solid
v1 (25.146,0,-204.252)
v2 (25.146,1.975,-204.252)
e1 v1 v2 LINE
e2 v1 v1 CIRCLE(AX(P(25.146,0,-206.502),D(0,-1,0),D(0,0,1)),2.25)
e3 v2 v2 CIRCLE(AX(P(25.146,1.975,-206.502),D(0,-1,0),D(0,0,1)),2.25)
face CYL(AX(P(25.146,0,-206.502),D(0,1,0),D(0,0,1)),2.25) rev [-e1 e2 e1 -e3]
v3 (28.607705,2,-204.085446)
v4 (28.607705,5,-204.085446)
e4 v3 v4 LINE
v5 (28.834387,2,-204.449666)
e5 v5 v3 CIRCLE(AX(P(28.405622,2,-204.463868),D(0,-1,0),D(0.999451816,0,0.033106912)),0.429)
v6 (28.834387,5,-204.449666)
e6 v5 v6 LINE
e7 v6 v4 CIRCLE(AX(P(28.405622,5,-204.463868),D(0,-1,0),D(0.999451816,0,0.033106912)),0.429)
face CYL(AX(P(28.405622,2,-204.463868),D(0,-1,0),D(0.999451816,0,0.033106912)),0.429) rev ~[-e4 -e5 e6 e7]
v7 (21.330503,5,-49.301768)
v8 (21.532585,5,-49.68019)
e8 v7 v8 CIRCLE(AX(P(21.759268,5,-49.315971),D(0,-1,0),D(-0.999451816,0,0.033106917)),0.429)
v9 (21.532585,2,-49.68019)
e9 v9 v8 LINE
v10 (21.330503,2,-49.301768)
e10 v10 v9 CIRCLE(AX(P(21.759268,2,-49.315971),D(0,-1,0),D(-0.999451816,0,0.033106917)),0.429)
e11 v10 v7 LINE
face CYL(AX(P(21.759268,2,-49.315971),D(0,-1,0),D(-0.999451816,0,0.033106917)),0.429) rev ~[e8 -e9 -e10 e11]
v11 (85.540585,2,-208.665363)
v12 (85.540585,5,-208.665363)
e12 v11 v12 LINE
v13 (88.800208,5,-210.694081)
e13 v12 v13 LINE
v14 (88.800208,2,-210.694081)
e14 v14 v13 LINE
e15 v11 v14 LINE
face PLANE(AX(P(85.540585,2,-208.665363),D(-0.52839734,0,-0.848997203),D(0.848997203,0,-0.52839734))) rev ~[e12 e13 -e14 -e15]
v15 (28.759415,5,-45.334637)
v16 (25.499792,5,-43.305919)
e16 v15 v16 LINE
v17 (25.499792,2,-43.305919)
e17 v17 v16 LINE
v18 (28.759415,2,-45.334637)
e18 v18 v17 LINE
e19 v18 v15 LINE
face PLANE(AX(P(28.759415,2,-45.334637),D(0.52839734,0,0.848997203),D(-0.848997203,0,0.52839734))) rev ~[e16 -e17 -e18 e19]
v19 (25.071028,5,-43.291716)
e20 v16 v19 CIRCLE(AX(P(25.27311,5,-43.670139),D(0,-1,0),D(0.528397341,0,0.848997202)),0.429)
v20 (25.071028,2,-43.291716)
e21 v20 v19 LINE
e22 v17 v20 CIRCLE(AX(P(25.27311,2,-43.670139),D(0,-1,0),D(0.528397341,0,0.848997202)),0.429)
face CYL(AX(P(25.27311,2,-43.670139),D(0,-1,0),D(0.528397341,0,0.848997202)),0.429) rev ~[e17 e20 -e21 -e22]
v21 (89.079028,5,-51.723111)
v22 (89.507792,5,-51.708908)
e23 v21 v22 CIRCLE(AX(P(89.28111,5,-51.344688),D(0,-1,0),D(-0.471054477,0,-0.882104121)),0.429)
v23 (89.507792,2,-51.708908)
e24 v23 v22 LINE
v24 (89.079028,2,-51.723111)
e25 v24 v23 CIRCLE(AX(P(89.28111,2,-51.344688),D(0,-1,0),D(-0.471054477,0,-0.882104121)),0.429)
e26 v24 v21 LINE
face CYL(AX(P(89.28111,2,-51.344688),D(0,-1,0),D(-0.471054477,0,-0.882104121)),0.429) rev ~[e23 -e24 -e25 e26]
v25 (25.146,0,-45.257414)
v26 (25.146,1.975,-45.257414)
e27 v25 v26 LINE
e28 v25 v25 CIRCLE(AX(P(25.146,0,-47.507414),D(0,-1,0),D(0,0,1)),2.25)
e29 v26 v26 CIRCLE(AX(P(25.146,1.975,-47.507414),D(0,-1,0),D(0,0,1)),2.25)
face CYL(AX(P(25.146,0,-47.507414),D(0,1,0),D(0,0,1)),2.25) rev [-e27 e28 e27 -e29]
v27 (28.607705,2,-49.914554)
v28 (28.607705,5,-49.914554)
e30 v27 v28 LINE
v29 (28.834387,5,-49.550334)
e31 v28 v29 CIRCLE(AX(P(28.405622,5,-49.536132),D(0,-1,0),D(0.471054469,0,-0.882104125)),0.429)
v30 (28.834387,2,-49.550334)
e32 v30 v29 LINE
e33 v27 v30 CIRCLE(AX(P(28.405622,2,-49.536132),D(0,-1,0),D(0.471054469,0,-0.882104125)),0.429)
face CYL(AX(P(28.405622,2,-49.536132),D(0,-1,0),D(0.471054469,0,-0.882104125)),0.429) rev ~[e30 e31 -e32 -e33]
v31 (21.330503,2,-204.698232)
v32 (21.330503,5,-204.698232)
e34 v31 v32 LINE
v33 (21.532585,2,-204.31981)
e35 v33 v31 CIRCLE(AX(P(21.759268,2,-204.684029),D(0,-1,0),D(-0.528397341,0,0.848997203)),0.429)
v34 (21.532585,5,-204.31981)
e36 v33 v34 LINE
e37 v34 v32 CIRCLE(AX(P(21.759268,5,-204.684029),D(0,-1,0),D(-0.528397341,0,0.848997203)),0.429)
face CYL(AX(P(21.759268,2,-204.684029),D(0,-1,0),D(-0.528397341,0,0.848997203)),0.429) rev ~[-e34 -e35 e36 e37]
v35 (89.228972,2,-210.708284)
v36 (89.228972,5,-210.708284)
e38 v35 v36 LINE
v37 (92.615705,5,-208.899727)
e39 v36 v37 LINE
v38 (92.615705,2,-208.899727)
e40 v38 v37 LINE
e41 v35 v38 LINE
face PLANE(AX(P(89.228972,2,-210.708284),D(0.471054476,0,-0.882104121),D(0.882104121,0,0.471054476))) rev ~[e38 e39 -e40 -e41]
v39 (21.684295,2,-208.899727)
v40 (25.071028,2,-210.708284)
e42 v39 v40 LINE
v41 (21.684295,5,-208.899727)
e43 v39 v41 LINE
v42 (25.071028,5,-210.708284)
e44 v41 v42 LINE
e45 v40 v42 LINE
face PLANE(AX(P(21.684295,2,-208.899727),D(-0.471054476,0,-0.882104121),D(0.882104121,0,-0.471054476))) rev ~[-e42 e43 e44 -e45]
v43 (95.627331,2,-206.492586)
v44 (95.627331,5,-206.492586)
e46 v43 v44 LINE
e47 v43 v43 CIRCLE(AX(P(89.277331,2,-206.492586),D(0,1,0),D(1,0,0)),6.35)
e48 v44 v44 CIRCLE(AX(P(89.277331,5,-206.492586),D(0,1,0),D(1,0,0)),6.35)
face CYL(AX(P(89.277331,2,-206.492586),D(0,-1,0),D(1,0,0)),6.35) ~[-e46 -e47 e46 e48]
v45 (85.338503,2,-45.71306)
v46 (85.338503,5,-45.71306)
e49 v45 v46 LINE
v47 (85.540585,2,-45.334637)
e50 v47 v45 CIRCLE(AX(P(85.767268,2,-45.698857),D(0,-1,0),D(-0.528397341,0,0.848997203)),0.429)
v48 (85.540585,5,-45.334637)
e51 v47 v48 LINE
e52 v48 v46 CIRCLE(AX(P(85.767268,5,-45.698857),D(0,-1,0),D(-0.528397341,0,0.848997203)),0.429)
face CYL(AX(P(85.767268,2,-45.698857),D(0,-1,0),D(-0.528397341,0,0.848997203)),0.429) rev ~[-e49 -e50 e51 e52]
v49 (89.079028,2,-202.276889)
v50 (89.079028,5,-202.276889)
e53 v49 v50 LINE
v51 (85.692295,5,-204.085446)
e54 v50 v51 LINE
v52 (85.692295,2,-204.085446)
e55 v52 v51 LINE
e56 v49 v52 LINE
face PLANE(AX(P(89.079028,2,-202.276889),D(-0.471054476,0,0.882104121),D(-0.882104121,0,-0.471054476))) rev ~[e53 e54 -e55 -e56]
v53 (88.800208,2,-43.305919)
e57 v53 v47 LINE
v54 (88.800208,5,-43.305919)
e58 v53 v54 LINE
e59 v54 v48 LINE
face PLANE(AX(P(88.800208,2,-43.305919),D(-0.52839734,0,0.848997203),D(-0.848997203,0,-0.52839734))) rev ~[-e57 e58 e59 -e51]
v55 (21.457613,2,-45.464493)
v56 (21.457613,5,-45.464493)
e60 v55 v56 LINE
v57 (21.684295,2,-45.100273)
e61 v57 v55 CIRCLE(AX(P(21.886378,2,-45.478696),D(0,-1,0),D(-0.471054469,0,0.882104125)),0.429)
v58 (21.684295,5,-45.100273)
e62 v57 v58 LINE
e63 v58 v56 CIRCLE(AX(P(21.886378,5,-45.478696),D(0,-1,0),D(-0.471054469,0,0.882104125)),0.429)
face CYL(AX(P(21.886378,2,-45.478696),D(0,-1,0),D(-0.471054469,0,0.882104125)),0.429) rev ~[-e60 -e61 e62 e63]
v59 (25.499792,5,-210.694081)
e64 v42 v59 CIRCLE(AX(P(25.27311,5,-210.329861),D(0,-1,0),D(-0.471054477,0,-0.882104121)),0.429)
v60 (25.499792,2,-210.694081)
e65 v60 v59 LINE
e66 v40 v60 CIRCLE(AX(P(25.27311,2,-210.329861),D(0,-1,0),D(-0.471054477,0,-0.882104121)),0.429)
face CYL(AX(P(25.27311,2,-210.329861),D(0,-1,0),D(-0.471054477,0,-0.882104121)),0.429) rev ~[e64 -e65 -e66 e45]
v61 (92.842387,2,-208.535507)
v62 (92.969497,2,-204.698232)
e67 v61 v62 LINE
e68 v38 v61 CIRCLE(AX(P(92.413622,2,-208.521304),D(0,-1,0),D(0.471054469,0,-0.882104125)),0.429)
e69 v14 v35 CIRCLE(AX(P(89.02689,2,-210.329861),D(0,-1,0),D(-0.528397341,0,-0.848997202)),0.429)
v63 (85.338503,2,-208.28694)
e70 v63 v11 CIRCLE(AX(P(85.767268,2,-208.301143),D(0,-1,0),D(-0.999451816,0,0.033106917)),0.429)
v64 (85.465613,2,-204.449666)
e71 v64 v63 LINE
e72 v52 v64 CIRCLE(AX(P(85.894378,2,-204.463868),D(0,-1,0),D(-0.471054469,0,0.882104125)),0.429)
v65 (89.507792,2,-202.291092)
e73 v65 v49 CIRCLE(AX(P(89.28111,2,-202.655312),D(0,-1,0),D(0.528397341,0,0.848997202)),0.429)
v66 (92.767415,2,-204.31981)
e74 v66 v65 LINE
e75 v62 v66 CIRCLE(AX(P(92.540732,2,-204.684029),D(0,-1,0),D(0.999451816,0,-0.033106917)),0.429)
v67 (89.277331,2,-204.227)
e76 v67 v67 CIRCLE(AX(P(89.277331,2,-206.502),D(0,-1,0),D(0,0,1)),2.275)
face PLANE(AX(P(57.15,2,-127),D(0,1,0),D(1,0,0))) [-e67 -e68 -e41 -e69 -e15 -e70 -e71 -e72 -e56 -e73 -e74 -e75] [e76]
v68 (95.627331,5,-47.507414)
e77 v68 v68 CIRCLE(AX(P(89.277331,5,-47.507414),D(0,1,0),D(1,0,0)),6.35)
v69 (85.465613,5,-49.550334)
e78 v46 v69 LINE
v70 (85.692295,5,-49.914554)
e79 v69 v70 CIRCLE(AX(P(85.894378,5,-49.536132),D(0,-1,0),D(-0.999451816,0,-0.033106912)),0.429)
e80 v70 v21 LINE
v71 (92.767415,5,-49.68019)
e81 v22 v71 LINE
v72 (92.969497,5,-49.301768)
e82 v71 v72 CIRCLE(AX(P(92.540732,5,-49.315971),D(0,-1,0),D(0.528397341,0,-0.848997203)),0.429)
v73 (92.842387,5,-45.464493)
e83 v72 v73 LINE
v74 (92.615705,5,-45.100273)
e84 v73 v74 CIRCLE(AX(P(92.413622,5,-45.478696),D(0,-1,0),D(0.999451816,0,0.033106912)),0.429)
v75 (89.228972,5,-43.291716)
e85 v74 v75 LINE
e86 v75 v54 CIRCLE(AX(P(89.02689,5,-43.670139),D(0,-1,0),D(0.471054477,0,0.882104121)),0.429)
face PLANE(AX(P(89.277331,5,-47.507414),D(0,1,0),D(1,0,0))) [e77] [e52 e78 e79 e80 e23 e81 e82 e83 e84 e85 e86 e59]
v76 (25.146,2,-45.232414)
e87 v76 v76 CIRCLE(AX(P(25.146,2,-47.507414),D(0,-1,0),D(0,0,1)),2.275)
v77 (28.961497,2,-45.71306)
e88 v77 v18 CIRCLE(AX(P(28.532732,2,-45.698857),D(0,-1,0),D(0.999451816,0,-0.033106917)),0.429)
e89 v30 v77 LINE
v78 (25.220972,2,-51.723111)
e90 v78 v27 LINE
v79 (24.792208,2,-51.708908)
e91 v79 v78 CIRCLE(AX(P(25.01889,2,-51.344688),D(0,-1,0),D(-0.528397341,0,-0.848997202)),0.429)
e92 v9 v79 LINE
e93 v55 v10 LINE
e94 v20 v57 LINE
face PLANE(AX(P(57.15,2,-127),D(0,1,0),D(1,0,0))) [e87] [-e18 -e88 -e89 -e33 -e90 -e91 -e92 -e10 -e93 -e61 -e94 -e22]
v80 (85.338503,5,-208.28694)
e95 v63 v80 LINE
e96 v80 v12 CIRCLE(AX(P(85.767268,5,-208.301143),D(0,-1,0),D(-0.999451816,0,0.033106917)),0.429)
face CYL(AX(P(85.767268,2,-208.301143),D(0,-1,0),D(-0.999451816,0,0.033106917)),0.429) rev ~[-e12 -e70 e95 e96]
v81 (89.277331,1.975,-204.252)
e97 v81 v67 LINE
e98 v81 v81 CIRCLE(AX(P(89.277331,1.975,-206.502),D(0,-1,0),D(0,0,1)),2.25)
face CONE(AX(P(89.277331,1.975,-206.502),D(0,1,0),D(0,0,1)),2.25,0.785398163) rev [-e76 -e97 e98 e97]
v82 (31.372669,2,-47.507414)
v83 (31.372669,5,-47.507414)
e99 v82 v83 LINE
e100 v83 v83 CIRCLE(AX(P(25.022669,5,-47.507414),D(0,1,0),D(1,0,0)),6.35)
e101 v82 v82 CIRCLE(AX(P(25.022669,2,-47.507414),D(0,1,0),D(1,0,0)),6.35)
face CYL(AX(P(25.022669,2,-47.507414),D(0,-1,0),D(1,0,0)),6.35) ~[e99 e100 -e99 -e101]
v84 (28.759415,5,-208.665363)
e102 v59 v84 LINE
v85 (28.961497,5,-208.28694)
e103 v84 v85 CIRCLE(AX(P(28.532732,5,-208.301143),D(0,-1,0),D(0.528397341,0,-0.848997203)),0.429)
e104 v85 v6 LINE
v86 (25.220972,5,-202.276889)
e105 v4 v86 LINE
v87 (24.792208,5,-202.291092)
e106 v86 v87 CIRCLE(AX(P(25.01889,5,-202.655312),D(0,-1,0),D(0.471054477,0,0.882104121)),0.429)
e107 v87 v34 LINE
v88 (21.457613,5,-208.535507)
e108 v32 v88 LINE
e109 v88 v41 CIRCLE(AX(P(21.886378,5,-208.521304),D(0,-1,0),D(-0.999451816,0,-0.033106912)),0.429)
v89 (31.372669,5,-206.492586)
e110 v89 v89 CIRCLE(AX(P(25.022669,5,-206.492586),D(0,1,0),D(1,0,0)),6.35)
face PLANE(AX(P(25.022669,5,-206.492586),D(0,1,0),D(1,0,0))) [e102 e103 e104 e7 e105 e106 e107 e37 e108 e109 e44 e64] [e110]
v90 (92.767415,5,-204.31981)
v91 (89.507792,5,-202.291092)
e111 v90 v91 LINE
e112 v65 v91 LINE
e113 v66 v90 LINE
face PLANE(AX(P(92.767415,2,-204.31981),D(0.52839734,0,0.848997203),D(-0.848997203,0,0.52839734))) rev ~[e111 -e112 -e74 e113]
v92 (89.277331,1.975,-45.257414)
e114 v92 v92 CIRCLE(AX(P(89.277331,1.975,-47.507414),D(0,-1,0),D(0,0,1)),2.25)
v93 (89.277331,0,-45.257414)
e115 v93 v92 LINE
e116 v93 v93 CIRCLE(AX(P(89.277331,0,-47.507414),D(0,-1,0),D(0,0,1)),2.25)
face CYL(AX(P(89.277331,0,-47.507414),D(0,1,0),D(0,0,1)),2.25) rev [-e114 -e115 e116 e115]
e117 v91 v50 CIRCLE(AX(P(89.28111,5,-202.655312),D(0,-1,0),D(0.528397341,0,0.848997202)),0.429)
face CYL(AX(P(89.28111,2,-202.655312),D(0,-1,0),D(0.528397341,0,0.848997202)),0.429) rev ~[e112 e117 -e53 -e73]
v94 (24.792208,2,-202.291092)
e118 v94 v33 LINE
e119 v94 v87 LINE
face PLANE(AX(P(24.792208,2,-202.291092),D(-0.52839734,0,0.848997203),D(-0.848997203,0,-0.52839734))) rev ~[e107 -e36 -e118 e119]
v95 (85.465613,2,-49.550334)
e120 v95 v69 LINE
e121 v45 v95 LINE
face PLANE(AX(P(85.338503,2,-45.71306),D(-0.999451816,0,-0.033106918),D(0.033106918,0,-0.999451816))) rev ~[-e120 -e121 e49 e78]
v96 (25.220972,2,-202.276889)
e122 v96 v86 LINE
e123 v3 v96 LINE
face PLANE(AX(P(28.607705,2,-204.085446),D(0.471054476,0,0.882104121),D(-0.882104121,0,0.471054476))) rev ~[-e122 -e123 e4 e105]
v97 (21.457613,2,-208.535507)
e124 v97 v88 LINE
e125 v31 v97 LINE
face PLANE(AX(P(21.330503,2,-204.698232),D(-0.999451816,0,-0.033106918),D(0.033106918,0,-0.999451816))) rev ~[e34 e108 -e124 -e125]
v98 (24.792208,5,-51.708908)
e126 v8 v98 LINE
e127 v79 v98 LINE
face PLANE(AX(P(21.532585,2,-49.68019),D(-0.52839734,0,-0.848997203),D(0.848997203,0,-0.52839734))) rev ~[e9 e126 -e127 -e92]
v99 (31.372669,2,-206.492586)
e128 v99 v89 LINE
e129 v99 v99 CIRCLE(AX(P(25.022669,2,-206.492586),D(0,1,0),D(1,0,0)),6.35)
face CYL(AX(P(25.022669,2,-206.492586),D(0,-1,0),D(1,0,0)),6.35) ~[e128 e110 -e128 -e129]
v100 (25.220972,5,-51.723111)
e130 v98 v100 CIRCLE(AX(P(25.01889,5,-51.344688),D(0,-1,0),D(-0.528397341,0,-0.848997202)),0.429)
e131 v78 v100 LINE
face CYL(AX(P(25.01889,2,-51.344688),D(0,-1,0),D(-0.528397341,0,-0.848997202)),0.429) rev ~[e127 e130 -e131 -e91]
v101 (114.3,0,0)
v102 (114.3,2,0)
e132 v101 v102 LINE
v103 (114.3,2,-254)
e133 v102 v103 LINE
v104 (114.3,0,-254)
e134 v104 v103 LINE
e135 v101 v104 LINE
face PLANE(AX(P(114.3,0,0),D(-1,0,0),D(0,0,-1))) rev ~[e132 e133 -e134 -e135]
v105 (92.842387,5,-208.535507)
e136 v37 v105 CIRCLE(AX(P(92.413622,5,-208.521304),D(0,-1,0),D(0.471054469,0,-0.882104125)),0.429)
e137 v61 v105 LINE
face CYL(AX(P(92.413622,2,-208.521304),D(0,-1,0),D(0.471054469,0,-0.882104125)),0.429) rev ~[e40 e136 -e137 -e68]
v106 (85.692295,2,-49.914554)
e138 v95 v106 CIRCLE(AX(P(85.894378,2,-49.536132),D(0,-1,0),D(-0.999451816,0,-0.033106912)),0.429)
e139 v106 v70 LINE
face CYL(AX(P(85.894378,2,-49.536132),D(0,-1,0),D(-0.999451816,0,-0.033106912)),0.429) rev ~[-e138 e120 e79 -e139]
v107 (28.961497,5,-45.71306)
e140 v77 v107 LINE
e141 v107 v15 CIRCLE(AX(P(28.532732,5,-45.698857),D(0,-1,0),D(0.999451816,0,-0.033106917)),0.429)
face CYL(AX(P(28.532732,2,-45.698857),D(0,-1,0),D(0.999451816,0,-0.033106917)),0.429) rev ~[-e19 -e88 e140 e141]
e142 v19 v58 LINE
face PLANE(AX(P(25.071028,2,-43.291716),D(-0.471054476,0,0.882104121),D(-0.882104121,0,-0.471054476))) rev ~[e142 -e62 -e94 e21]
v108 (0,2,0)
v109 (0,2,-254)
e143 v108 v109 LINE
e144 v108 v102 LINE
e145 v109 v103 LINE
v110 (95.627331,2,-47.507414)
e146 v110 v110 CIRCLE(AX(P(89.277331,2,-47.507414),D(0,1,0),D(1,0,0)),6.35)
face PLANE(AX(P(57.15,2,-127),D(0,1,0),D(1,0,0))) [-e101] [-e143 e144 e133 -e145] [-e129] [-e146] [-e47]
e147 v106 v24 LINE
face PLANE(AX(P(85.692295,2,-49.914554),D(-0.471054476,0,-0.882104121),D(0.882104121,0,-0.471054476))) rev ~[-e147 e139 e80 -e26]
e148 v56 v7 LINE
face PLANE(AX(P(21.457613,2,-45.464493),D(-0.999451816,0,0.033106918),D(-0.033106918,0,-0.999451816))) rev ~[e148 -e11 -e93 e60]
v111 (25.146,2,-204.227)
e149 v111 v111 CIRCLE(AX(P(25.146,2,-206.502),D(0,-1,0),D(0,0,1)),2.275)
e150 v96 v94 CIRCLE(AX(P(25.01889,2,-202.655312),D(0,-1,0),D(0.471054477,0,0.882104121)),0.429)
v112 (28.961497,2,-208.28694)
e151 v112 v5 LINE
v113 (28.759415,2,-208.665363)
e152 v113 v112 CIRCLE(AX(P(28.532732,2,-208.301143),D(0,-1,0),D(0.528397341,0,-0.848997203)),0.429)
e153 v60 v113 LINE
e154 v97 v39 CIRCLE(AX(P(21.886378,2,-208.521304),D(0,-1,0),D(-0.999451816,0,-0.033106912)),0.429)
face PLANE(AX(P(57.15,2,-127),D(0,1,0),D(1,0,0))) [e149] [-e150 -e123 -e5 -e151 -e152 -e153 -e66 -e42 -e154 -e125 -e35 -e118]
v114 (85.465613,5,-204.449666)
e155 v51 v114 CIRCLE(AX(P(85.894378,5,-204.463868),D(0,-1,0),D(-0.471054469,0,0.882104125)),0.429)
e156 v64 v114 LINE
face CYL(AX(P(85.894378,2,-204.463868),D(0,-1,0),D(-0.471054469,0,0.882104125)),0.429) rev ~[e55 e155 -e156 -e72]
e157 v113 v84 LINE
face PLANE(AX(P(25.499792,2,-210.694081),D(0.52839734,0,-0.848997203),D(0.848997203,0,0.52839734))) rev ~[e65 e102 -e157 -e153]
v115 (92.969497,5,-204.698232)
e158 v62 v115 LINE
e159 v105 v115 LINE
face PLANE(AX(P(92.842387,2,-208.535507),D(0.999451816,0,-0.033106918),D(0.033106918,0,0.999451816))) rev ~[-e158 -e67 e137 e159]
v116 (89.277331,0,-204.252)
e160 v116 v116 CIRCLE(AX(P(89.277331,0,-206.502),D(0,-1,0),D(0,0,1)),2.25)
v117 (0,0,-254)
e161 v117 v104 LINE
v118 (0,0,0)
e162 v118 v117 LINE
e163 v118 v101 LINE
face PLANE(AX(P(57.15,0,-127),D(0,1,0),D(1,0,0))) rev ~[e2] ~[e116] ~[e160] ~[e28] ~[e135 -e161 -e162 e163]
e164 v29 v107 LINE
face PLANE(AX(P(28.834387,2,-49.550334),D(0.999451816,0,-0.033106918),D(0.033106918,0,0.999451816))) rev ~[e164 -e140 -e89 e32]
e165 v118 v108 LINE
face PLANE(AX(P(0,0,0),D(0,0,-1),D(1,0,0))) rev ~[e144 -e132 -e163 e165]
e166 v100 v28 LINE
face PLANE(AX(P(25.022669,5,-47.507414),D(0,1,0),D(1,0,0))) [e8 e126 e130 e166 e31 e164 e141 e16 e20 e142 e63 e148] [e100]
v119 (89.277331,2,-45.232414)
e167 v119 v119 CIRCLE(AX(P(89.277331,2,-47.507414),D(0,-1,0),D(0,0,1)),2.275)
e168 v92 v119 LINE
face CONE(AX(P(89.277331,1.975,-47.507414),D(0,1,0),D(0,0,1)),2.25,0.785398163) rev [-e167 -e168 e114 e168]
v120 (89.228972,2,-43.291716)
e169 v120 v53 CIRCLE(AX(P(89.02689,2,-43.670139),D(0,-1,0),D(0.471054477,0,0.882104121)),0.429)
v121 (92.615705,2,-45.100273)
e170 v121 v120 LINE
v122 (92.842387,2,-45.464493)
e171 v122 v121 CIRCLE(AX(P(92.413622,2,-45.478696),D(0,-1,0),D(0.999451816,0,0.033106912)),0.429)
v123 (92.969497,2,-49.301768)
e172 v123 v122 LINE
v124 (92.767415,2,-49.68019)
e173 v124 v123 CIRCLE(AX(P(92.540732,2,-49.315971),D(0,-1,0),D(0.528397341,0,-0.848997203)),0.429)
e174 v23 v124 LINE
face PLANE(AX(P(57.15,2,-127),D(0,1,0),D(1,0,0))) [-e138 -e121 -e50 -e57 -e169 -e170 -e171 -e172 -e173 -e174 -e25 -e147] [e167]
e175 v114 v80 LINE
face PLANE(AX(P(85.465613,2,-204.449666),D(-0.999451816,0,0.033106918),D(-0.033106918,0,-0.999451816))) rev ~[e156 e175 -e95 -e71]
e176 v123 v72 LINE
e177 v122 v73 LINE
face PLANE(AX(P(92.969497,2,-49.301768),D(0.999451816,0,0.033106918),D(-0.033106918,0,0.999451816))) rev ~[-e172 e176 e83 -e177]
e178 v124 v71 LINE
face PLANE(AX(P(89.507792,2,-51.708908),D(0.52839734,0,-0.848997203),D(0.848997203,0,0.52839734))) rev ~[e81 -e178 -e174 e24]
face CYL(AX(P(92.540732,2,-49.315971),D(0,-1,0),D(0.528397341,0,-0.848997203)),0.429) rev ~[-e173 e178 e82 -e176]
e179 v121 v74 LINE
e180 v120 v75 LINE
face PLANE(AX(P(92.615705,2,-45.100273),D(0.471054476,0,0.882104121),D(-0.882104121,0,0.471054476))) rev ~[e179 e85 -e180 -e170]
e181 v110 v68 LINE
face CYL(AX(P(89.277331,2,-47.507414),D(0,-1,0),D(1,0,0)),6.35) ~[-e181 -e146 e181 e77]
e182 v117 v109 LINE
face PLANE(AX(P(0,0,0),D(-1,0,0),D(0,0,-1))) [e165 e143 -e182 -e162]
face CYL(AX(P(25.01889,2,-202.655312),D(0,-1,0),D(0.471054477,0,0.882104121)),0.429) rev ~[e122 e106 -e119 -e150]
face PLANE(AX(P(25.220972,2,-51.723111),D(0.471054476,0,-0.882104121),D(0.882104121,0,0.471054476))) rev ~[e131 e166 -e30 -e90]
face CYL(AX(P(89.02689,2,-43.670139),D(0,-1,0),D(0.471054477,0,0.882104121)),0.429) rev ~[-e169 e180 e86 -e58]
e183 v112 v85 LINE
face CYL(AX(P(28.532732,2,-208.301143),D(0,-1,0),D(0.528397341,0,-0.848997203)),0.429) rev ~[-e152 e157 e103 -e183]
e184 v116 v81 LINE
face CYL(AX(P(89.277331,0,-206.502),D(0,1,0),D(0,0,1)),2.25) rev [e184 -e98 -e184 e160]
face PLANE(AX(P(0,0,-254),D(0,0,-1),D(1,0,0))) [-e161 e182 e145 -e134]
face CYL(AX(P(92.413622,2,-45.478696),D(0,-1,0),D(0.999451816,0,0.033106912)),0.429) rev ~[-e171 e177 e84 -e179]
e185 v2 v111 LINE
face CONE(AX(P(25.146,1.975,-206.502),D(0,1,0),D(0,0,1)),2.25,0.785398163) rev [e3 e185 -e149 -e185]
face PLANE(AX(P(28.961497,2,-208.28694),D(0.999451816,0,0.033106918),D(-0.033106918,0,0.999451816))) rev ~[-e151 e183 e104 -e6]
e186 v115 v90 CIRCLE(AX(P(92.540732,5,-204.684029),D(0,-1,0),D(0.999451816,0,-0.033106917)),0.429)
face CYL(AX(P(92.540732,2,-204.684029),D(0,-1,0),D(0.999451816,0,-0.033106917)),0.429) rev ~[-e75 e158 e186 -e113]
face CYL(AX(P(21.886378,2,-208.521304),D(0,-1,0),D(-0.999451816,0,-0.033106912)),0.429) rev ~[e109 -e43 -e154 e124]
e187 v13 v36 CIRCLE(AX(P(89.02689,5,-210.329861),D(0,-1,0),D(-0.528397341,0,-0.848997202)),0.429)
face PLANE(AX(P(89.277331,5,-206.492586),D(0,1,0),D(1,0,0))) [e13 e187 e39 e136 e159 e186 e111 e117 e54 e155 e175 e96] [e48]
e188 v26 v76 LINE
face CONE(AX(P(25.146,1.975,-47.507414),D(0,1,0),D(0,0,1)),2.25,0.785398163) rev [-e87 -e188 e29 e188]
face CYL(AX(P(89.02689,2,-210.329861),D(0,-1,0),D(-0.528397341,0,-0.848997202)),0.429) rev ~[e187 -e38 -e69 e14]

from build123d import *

# Parameters (mm, degrees)
SKETCH1_W                     = 114.3
SKETCH1_H                     = 254
BOSS_EXTRUDE1_DEPTH           = 2.000000064
M4_CLEARANCE_HOLE1_AT_2_COUNT = 2
M4_CLEARANCE_HOLE1_AT_2_PITCH = 64.13133097
M4_CLEARANCE_HOLE1_AT_3_COUNT = 2
M4_CLEARANCE_HOLE1_AT_3_PITCH = 171.44126128
M4_CLEARANCE_HOLE1_AT_4_COUNT = 2
M4_CLEARANCE_HOLE1_AT_4_PITCH = 158.994586252
SKETCH8_R                     = 6.35
BOSS_EXTRUDE3_DEPTH           = 3


with BuildPart() as part:
    # Sketch1 → Boss-Extrude1 (new body)
    with BuildSketch(Plane(origin=(0, 0, 0), x_dir=(1, 0, 0), z_dir=(0, 1, 0))):
        with Locations((57.15, 127)):
            Rectangle(SKETCH1_W, SKETCH1_H)
    extrude(amount=BOSS_EXTRUDE1_DEPTH)

    # Sketch6 → M4 Clearance Hole1 (revolve, cut)
    with BuildSketch(Plane(origin=(25.146, 2.000000064, -206.502), x_dir=(0, 0, 1), z_dir=(1, 0, 0))):
        Polygon((0, 0), (0, 2.000000064), (2.25, 2.000000064), (2.25, 0.025), (2.275, 0), align=None)
    m4_clearance_hole1 = revolve(axis=Axis((25.146, 8.350000064, -206.502), (0, -1, 0)), mode=Mode.SUBTRACT)

    # M4 Clearance Hole1 at 2: M4 Clearance Hole1 ×2
    with Locations(*[(i * M4_CLEARANCE_HOLE1_AT_2_PITCH, 0, 0) for i in range(1, M4_CLEARANCE_HOLE1_AT_2_COUNT)]):
        add(m4_clearance_hole1, mode=Mode.SUBTRACT)

    # M4 Clearance Hole1 at 3: M4 Clearance Hole1 ×2
    with Locations(*[Vector(0.37407174, 0, 0.92739977) * (i * M4_CLEARANCE_HOLE1_AT_3_PITCH) for i in range(1, M4_CLEARANCE_HOLE1_AT_3_COUNT)]):
        add(m4_clearance_hole1, mode=Mode.SUBTRACT)

    # M4 Clearance Hole1 at 4: M4 Clearance Hole1 ×2
    with Locations(*[(0, 0, i * M4_CLEARANCE_HOLE1_AT_4_PITCH) for i in range(1, M4_CLEARANCE_HOLE1_AT_4_COUNT)]):
        add(m4_clearance_hole1, mode=Mode.SUBTRACT)

    # Sketch8 → Boss-Extrude3 (add)
    with BuildSketch(Plane(origin=(0, 2.000000064, 0), x_dir=(1, 0, 0), z_dir=(0, 1, 0))):
        with Locations((89.27733097, 47.507413748)):
            Circle(SKETCH8_R)
        with BuildLine():
            ThreePointArc((89.228972354, 43.291716477), (89.012687116, 43.241374316), (88.800207525, 43.305919345))
            Line((88.800207525, 43.305919345), (85.540585246, 45.334637149))
            ThreePointArc((85.540585246, 45.334637149), (85.388845037, 45.496774579), (85.338502876, 45.713059817))
            Line((85.338502876, 45.713059817), (85.465612892, 49.55033442))
            ThreePointArc((85.465612892, 49.55033442), (85.53015792, 49.762814011), (85.692295351, 49.91455422))
            Line((85.692295351, 49.91455422), (89.079027646, 51.723111019))
            ThreePointArc((89.079027646, 51.723111019), (89.295312884, 51.77345318), (89.507792475, 51.708908151))
            Line((89.507792475, 51.708908151), (92.767414754, 49.680190347))
            ThreePointArc((92.767414754, 49.680190347), (92.919154963, 49.518052917), (92.969497124, 49.301767679))
            Line((92.969497124, 49.301767679), (92.842387108, 45.464493076))
            ThreePointArc((92.842387108, 45.464493076), (92.77784208, 45.252013485), (92.615704649, 45.100273276))
            Line((92.615704649, 45.100273276), (89.228972354, 43.291716477))
        make_face(mode=Mode.SUBTRACT)
        with Locations((25.02266903, 47.507413748)):
            Circle(SKETCH8_R)
        with BuildLine():
            Line((28.759414754, 45.334637149), (25.499792475, 43.305919345))
            ThreePointArc((25.499792475, 43.305919345), (25.287312884, 43.241374316), (25.071027646, 43.291716477))
            Line((25.071027646, 43.291716477), (21.684295351, 45.100273276))
            ThreePointArc((21.684295351, 45.100273276), (21.52215792, 45.252013485), (21.457612892, 45.464493076))
            Line((21.457612892, 45.464493076), (21.330502876, 49.301767679))
            ThreePointArc((21.330502876, 49.301767679), (21.380845037, 49.518052917), (21.532585246, 49.680190347))
            Line((21.532585246, 49.680190347), (24.792207525, 51.708908151))
            ThreePointArc((24.792207525, 51.708908151), (25.004687116, 51.77345318), (25.220972354, 51.723111019))
            Line((25.220972354, 51.723111019), (28.607704649, 49.91455422))
            ThreePointArc((28.607704649, 49.91455422), (28.76984208, 49.762814011), (28.834387108, 49.55033442))
            Line((28.834387108, 49.55033442), (28.961497124, 45.713059817))
            ThreePointArc((28.961497124, 45.713059817), (28.911154963, 45.496774579), (28.759414754, 45.334637149))
        make_face(mode=Mode.SUBTRACT)
        with Locations((89.27733097, 206.492586252)):
            Circle(SKETCH8_R)
        with BuildLine():
            Line((89.228972354, 210.708283523), (92.615704649, 208.899726724))
            ThreePointArc((92.615704649, 208.899726724), (92.77784208, 208.747986515), (92.842387108, 208.535506924))
            Line((92.842387108, 208.535506924), (92.969497124, 204.698232321))
            ThreePointArc((92.969497124, 204.698232321), (92.919154963, 204.481947083), (92.767414754, 204.319809653))
            Line((92.767414754, 204.319809653), (89.507792475, 202.291091849))
            ThreePointArc((89.507792475, 202.291091849), (89.295312884, 202.22654682), (89.079027646, 202.276888981))
            Line((89.079027646, 202.276888981), (85.692295351, 204.08544578))
            ThreePointArc((85.692295351, 204.08544578), (85.53015792, 204.237185989), (85.465612892, 204.44966558))
            Line((85.465612892, 204.44966558), (85.338502876, 208.286940183))
            ThreePointArc((85.338502876, 208.286940183), (85.388845037, 208.503225421), (85.540585246, 208.665362851))
            Line((85.540585246, 208.665362851), (88.800207525, 210.694080655))
            ThreePointArc((88.800207525, 210.694080655), (89.012687116, 210.758625684), (89.228972354, 210.708283523))
        make_face(mode=Mode.SUBTRACT)
        with Locations((25.02266903, 206.492586252)):
            Circle(SKETCH8_R)
        with BuildLine():
            ThreePointArc((25.071027646, 210.708283523), (25.287312884, 210.758625684), (25.499792475, 210.694080655))
            Line((25.499792475, 210.694080655), (28.759414754, 208.665362851))
            ThreePointArc((28.759414754, 208.665362851), (28.911154963, 208.503225421), (28.961497124, 208.286940183))
            Line((28.961497124, 208.286940183), (28.834387108, 204.44966558))
            ThreePointArc((28.834387108, 204.44966558), (28.76984208, 204.237185989), (28.607704649, 204.08544578))
            Line((28.607704649, 204.08544578), (25.220972354, 202.276888981))
            ThreePointArc((25.220972354, 202.276888981), (25.004687116, 202.22654682), (24.792207525, 202.291091849))
            Line((24.792207525, 202.291091849), (21.532585246, 204.319809653))
            ThreePointArc((21.532585246, 204.319809653), (21.380845037, 204.481947083), (21.330502876, 204.698232321))
            Line((21.330502876, 204.698232321), (21.457612892, 208.535506924))
            ThreePointArc((21.457612892, 208.535506924), (21.52215792, 208.747986515), (21.684295351, 208.899726724))
            Line((21.684295351, 208.899726724), (25.071027646, 210.708283523))
        make_face(mode=Mode.SUBTRACT)
    extrude(amount=BOSS_EXTRUDE3_DEPTH)


solid = part.part
